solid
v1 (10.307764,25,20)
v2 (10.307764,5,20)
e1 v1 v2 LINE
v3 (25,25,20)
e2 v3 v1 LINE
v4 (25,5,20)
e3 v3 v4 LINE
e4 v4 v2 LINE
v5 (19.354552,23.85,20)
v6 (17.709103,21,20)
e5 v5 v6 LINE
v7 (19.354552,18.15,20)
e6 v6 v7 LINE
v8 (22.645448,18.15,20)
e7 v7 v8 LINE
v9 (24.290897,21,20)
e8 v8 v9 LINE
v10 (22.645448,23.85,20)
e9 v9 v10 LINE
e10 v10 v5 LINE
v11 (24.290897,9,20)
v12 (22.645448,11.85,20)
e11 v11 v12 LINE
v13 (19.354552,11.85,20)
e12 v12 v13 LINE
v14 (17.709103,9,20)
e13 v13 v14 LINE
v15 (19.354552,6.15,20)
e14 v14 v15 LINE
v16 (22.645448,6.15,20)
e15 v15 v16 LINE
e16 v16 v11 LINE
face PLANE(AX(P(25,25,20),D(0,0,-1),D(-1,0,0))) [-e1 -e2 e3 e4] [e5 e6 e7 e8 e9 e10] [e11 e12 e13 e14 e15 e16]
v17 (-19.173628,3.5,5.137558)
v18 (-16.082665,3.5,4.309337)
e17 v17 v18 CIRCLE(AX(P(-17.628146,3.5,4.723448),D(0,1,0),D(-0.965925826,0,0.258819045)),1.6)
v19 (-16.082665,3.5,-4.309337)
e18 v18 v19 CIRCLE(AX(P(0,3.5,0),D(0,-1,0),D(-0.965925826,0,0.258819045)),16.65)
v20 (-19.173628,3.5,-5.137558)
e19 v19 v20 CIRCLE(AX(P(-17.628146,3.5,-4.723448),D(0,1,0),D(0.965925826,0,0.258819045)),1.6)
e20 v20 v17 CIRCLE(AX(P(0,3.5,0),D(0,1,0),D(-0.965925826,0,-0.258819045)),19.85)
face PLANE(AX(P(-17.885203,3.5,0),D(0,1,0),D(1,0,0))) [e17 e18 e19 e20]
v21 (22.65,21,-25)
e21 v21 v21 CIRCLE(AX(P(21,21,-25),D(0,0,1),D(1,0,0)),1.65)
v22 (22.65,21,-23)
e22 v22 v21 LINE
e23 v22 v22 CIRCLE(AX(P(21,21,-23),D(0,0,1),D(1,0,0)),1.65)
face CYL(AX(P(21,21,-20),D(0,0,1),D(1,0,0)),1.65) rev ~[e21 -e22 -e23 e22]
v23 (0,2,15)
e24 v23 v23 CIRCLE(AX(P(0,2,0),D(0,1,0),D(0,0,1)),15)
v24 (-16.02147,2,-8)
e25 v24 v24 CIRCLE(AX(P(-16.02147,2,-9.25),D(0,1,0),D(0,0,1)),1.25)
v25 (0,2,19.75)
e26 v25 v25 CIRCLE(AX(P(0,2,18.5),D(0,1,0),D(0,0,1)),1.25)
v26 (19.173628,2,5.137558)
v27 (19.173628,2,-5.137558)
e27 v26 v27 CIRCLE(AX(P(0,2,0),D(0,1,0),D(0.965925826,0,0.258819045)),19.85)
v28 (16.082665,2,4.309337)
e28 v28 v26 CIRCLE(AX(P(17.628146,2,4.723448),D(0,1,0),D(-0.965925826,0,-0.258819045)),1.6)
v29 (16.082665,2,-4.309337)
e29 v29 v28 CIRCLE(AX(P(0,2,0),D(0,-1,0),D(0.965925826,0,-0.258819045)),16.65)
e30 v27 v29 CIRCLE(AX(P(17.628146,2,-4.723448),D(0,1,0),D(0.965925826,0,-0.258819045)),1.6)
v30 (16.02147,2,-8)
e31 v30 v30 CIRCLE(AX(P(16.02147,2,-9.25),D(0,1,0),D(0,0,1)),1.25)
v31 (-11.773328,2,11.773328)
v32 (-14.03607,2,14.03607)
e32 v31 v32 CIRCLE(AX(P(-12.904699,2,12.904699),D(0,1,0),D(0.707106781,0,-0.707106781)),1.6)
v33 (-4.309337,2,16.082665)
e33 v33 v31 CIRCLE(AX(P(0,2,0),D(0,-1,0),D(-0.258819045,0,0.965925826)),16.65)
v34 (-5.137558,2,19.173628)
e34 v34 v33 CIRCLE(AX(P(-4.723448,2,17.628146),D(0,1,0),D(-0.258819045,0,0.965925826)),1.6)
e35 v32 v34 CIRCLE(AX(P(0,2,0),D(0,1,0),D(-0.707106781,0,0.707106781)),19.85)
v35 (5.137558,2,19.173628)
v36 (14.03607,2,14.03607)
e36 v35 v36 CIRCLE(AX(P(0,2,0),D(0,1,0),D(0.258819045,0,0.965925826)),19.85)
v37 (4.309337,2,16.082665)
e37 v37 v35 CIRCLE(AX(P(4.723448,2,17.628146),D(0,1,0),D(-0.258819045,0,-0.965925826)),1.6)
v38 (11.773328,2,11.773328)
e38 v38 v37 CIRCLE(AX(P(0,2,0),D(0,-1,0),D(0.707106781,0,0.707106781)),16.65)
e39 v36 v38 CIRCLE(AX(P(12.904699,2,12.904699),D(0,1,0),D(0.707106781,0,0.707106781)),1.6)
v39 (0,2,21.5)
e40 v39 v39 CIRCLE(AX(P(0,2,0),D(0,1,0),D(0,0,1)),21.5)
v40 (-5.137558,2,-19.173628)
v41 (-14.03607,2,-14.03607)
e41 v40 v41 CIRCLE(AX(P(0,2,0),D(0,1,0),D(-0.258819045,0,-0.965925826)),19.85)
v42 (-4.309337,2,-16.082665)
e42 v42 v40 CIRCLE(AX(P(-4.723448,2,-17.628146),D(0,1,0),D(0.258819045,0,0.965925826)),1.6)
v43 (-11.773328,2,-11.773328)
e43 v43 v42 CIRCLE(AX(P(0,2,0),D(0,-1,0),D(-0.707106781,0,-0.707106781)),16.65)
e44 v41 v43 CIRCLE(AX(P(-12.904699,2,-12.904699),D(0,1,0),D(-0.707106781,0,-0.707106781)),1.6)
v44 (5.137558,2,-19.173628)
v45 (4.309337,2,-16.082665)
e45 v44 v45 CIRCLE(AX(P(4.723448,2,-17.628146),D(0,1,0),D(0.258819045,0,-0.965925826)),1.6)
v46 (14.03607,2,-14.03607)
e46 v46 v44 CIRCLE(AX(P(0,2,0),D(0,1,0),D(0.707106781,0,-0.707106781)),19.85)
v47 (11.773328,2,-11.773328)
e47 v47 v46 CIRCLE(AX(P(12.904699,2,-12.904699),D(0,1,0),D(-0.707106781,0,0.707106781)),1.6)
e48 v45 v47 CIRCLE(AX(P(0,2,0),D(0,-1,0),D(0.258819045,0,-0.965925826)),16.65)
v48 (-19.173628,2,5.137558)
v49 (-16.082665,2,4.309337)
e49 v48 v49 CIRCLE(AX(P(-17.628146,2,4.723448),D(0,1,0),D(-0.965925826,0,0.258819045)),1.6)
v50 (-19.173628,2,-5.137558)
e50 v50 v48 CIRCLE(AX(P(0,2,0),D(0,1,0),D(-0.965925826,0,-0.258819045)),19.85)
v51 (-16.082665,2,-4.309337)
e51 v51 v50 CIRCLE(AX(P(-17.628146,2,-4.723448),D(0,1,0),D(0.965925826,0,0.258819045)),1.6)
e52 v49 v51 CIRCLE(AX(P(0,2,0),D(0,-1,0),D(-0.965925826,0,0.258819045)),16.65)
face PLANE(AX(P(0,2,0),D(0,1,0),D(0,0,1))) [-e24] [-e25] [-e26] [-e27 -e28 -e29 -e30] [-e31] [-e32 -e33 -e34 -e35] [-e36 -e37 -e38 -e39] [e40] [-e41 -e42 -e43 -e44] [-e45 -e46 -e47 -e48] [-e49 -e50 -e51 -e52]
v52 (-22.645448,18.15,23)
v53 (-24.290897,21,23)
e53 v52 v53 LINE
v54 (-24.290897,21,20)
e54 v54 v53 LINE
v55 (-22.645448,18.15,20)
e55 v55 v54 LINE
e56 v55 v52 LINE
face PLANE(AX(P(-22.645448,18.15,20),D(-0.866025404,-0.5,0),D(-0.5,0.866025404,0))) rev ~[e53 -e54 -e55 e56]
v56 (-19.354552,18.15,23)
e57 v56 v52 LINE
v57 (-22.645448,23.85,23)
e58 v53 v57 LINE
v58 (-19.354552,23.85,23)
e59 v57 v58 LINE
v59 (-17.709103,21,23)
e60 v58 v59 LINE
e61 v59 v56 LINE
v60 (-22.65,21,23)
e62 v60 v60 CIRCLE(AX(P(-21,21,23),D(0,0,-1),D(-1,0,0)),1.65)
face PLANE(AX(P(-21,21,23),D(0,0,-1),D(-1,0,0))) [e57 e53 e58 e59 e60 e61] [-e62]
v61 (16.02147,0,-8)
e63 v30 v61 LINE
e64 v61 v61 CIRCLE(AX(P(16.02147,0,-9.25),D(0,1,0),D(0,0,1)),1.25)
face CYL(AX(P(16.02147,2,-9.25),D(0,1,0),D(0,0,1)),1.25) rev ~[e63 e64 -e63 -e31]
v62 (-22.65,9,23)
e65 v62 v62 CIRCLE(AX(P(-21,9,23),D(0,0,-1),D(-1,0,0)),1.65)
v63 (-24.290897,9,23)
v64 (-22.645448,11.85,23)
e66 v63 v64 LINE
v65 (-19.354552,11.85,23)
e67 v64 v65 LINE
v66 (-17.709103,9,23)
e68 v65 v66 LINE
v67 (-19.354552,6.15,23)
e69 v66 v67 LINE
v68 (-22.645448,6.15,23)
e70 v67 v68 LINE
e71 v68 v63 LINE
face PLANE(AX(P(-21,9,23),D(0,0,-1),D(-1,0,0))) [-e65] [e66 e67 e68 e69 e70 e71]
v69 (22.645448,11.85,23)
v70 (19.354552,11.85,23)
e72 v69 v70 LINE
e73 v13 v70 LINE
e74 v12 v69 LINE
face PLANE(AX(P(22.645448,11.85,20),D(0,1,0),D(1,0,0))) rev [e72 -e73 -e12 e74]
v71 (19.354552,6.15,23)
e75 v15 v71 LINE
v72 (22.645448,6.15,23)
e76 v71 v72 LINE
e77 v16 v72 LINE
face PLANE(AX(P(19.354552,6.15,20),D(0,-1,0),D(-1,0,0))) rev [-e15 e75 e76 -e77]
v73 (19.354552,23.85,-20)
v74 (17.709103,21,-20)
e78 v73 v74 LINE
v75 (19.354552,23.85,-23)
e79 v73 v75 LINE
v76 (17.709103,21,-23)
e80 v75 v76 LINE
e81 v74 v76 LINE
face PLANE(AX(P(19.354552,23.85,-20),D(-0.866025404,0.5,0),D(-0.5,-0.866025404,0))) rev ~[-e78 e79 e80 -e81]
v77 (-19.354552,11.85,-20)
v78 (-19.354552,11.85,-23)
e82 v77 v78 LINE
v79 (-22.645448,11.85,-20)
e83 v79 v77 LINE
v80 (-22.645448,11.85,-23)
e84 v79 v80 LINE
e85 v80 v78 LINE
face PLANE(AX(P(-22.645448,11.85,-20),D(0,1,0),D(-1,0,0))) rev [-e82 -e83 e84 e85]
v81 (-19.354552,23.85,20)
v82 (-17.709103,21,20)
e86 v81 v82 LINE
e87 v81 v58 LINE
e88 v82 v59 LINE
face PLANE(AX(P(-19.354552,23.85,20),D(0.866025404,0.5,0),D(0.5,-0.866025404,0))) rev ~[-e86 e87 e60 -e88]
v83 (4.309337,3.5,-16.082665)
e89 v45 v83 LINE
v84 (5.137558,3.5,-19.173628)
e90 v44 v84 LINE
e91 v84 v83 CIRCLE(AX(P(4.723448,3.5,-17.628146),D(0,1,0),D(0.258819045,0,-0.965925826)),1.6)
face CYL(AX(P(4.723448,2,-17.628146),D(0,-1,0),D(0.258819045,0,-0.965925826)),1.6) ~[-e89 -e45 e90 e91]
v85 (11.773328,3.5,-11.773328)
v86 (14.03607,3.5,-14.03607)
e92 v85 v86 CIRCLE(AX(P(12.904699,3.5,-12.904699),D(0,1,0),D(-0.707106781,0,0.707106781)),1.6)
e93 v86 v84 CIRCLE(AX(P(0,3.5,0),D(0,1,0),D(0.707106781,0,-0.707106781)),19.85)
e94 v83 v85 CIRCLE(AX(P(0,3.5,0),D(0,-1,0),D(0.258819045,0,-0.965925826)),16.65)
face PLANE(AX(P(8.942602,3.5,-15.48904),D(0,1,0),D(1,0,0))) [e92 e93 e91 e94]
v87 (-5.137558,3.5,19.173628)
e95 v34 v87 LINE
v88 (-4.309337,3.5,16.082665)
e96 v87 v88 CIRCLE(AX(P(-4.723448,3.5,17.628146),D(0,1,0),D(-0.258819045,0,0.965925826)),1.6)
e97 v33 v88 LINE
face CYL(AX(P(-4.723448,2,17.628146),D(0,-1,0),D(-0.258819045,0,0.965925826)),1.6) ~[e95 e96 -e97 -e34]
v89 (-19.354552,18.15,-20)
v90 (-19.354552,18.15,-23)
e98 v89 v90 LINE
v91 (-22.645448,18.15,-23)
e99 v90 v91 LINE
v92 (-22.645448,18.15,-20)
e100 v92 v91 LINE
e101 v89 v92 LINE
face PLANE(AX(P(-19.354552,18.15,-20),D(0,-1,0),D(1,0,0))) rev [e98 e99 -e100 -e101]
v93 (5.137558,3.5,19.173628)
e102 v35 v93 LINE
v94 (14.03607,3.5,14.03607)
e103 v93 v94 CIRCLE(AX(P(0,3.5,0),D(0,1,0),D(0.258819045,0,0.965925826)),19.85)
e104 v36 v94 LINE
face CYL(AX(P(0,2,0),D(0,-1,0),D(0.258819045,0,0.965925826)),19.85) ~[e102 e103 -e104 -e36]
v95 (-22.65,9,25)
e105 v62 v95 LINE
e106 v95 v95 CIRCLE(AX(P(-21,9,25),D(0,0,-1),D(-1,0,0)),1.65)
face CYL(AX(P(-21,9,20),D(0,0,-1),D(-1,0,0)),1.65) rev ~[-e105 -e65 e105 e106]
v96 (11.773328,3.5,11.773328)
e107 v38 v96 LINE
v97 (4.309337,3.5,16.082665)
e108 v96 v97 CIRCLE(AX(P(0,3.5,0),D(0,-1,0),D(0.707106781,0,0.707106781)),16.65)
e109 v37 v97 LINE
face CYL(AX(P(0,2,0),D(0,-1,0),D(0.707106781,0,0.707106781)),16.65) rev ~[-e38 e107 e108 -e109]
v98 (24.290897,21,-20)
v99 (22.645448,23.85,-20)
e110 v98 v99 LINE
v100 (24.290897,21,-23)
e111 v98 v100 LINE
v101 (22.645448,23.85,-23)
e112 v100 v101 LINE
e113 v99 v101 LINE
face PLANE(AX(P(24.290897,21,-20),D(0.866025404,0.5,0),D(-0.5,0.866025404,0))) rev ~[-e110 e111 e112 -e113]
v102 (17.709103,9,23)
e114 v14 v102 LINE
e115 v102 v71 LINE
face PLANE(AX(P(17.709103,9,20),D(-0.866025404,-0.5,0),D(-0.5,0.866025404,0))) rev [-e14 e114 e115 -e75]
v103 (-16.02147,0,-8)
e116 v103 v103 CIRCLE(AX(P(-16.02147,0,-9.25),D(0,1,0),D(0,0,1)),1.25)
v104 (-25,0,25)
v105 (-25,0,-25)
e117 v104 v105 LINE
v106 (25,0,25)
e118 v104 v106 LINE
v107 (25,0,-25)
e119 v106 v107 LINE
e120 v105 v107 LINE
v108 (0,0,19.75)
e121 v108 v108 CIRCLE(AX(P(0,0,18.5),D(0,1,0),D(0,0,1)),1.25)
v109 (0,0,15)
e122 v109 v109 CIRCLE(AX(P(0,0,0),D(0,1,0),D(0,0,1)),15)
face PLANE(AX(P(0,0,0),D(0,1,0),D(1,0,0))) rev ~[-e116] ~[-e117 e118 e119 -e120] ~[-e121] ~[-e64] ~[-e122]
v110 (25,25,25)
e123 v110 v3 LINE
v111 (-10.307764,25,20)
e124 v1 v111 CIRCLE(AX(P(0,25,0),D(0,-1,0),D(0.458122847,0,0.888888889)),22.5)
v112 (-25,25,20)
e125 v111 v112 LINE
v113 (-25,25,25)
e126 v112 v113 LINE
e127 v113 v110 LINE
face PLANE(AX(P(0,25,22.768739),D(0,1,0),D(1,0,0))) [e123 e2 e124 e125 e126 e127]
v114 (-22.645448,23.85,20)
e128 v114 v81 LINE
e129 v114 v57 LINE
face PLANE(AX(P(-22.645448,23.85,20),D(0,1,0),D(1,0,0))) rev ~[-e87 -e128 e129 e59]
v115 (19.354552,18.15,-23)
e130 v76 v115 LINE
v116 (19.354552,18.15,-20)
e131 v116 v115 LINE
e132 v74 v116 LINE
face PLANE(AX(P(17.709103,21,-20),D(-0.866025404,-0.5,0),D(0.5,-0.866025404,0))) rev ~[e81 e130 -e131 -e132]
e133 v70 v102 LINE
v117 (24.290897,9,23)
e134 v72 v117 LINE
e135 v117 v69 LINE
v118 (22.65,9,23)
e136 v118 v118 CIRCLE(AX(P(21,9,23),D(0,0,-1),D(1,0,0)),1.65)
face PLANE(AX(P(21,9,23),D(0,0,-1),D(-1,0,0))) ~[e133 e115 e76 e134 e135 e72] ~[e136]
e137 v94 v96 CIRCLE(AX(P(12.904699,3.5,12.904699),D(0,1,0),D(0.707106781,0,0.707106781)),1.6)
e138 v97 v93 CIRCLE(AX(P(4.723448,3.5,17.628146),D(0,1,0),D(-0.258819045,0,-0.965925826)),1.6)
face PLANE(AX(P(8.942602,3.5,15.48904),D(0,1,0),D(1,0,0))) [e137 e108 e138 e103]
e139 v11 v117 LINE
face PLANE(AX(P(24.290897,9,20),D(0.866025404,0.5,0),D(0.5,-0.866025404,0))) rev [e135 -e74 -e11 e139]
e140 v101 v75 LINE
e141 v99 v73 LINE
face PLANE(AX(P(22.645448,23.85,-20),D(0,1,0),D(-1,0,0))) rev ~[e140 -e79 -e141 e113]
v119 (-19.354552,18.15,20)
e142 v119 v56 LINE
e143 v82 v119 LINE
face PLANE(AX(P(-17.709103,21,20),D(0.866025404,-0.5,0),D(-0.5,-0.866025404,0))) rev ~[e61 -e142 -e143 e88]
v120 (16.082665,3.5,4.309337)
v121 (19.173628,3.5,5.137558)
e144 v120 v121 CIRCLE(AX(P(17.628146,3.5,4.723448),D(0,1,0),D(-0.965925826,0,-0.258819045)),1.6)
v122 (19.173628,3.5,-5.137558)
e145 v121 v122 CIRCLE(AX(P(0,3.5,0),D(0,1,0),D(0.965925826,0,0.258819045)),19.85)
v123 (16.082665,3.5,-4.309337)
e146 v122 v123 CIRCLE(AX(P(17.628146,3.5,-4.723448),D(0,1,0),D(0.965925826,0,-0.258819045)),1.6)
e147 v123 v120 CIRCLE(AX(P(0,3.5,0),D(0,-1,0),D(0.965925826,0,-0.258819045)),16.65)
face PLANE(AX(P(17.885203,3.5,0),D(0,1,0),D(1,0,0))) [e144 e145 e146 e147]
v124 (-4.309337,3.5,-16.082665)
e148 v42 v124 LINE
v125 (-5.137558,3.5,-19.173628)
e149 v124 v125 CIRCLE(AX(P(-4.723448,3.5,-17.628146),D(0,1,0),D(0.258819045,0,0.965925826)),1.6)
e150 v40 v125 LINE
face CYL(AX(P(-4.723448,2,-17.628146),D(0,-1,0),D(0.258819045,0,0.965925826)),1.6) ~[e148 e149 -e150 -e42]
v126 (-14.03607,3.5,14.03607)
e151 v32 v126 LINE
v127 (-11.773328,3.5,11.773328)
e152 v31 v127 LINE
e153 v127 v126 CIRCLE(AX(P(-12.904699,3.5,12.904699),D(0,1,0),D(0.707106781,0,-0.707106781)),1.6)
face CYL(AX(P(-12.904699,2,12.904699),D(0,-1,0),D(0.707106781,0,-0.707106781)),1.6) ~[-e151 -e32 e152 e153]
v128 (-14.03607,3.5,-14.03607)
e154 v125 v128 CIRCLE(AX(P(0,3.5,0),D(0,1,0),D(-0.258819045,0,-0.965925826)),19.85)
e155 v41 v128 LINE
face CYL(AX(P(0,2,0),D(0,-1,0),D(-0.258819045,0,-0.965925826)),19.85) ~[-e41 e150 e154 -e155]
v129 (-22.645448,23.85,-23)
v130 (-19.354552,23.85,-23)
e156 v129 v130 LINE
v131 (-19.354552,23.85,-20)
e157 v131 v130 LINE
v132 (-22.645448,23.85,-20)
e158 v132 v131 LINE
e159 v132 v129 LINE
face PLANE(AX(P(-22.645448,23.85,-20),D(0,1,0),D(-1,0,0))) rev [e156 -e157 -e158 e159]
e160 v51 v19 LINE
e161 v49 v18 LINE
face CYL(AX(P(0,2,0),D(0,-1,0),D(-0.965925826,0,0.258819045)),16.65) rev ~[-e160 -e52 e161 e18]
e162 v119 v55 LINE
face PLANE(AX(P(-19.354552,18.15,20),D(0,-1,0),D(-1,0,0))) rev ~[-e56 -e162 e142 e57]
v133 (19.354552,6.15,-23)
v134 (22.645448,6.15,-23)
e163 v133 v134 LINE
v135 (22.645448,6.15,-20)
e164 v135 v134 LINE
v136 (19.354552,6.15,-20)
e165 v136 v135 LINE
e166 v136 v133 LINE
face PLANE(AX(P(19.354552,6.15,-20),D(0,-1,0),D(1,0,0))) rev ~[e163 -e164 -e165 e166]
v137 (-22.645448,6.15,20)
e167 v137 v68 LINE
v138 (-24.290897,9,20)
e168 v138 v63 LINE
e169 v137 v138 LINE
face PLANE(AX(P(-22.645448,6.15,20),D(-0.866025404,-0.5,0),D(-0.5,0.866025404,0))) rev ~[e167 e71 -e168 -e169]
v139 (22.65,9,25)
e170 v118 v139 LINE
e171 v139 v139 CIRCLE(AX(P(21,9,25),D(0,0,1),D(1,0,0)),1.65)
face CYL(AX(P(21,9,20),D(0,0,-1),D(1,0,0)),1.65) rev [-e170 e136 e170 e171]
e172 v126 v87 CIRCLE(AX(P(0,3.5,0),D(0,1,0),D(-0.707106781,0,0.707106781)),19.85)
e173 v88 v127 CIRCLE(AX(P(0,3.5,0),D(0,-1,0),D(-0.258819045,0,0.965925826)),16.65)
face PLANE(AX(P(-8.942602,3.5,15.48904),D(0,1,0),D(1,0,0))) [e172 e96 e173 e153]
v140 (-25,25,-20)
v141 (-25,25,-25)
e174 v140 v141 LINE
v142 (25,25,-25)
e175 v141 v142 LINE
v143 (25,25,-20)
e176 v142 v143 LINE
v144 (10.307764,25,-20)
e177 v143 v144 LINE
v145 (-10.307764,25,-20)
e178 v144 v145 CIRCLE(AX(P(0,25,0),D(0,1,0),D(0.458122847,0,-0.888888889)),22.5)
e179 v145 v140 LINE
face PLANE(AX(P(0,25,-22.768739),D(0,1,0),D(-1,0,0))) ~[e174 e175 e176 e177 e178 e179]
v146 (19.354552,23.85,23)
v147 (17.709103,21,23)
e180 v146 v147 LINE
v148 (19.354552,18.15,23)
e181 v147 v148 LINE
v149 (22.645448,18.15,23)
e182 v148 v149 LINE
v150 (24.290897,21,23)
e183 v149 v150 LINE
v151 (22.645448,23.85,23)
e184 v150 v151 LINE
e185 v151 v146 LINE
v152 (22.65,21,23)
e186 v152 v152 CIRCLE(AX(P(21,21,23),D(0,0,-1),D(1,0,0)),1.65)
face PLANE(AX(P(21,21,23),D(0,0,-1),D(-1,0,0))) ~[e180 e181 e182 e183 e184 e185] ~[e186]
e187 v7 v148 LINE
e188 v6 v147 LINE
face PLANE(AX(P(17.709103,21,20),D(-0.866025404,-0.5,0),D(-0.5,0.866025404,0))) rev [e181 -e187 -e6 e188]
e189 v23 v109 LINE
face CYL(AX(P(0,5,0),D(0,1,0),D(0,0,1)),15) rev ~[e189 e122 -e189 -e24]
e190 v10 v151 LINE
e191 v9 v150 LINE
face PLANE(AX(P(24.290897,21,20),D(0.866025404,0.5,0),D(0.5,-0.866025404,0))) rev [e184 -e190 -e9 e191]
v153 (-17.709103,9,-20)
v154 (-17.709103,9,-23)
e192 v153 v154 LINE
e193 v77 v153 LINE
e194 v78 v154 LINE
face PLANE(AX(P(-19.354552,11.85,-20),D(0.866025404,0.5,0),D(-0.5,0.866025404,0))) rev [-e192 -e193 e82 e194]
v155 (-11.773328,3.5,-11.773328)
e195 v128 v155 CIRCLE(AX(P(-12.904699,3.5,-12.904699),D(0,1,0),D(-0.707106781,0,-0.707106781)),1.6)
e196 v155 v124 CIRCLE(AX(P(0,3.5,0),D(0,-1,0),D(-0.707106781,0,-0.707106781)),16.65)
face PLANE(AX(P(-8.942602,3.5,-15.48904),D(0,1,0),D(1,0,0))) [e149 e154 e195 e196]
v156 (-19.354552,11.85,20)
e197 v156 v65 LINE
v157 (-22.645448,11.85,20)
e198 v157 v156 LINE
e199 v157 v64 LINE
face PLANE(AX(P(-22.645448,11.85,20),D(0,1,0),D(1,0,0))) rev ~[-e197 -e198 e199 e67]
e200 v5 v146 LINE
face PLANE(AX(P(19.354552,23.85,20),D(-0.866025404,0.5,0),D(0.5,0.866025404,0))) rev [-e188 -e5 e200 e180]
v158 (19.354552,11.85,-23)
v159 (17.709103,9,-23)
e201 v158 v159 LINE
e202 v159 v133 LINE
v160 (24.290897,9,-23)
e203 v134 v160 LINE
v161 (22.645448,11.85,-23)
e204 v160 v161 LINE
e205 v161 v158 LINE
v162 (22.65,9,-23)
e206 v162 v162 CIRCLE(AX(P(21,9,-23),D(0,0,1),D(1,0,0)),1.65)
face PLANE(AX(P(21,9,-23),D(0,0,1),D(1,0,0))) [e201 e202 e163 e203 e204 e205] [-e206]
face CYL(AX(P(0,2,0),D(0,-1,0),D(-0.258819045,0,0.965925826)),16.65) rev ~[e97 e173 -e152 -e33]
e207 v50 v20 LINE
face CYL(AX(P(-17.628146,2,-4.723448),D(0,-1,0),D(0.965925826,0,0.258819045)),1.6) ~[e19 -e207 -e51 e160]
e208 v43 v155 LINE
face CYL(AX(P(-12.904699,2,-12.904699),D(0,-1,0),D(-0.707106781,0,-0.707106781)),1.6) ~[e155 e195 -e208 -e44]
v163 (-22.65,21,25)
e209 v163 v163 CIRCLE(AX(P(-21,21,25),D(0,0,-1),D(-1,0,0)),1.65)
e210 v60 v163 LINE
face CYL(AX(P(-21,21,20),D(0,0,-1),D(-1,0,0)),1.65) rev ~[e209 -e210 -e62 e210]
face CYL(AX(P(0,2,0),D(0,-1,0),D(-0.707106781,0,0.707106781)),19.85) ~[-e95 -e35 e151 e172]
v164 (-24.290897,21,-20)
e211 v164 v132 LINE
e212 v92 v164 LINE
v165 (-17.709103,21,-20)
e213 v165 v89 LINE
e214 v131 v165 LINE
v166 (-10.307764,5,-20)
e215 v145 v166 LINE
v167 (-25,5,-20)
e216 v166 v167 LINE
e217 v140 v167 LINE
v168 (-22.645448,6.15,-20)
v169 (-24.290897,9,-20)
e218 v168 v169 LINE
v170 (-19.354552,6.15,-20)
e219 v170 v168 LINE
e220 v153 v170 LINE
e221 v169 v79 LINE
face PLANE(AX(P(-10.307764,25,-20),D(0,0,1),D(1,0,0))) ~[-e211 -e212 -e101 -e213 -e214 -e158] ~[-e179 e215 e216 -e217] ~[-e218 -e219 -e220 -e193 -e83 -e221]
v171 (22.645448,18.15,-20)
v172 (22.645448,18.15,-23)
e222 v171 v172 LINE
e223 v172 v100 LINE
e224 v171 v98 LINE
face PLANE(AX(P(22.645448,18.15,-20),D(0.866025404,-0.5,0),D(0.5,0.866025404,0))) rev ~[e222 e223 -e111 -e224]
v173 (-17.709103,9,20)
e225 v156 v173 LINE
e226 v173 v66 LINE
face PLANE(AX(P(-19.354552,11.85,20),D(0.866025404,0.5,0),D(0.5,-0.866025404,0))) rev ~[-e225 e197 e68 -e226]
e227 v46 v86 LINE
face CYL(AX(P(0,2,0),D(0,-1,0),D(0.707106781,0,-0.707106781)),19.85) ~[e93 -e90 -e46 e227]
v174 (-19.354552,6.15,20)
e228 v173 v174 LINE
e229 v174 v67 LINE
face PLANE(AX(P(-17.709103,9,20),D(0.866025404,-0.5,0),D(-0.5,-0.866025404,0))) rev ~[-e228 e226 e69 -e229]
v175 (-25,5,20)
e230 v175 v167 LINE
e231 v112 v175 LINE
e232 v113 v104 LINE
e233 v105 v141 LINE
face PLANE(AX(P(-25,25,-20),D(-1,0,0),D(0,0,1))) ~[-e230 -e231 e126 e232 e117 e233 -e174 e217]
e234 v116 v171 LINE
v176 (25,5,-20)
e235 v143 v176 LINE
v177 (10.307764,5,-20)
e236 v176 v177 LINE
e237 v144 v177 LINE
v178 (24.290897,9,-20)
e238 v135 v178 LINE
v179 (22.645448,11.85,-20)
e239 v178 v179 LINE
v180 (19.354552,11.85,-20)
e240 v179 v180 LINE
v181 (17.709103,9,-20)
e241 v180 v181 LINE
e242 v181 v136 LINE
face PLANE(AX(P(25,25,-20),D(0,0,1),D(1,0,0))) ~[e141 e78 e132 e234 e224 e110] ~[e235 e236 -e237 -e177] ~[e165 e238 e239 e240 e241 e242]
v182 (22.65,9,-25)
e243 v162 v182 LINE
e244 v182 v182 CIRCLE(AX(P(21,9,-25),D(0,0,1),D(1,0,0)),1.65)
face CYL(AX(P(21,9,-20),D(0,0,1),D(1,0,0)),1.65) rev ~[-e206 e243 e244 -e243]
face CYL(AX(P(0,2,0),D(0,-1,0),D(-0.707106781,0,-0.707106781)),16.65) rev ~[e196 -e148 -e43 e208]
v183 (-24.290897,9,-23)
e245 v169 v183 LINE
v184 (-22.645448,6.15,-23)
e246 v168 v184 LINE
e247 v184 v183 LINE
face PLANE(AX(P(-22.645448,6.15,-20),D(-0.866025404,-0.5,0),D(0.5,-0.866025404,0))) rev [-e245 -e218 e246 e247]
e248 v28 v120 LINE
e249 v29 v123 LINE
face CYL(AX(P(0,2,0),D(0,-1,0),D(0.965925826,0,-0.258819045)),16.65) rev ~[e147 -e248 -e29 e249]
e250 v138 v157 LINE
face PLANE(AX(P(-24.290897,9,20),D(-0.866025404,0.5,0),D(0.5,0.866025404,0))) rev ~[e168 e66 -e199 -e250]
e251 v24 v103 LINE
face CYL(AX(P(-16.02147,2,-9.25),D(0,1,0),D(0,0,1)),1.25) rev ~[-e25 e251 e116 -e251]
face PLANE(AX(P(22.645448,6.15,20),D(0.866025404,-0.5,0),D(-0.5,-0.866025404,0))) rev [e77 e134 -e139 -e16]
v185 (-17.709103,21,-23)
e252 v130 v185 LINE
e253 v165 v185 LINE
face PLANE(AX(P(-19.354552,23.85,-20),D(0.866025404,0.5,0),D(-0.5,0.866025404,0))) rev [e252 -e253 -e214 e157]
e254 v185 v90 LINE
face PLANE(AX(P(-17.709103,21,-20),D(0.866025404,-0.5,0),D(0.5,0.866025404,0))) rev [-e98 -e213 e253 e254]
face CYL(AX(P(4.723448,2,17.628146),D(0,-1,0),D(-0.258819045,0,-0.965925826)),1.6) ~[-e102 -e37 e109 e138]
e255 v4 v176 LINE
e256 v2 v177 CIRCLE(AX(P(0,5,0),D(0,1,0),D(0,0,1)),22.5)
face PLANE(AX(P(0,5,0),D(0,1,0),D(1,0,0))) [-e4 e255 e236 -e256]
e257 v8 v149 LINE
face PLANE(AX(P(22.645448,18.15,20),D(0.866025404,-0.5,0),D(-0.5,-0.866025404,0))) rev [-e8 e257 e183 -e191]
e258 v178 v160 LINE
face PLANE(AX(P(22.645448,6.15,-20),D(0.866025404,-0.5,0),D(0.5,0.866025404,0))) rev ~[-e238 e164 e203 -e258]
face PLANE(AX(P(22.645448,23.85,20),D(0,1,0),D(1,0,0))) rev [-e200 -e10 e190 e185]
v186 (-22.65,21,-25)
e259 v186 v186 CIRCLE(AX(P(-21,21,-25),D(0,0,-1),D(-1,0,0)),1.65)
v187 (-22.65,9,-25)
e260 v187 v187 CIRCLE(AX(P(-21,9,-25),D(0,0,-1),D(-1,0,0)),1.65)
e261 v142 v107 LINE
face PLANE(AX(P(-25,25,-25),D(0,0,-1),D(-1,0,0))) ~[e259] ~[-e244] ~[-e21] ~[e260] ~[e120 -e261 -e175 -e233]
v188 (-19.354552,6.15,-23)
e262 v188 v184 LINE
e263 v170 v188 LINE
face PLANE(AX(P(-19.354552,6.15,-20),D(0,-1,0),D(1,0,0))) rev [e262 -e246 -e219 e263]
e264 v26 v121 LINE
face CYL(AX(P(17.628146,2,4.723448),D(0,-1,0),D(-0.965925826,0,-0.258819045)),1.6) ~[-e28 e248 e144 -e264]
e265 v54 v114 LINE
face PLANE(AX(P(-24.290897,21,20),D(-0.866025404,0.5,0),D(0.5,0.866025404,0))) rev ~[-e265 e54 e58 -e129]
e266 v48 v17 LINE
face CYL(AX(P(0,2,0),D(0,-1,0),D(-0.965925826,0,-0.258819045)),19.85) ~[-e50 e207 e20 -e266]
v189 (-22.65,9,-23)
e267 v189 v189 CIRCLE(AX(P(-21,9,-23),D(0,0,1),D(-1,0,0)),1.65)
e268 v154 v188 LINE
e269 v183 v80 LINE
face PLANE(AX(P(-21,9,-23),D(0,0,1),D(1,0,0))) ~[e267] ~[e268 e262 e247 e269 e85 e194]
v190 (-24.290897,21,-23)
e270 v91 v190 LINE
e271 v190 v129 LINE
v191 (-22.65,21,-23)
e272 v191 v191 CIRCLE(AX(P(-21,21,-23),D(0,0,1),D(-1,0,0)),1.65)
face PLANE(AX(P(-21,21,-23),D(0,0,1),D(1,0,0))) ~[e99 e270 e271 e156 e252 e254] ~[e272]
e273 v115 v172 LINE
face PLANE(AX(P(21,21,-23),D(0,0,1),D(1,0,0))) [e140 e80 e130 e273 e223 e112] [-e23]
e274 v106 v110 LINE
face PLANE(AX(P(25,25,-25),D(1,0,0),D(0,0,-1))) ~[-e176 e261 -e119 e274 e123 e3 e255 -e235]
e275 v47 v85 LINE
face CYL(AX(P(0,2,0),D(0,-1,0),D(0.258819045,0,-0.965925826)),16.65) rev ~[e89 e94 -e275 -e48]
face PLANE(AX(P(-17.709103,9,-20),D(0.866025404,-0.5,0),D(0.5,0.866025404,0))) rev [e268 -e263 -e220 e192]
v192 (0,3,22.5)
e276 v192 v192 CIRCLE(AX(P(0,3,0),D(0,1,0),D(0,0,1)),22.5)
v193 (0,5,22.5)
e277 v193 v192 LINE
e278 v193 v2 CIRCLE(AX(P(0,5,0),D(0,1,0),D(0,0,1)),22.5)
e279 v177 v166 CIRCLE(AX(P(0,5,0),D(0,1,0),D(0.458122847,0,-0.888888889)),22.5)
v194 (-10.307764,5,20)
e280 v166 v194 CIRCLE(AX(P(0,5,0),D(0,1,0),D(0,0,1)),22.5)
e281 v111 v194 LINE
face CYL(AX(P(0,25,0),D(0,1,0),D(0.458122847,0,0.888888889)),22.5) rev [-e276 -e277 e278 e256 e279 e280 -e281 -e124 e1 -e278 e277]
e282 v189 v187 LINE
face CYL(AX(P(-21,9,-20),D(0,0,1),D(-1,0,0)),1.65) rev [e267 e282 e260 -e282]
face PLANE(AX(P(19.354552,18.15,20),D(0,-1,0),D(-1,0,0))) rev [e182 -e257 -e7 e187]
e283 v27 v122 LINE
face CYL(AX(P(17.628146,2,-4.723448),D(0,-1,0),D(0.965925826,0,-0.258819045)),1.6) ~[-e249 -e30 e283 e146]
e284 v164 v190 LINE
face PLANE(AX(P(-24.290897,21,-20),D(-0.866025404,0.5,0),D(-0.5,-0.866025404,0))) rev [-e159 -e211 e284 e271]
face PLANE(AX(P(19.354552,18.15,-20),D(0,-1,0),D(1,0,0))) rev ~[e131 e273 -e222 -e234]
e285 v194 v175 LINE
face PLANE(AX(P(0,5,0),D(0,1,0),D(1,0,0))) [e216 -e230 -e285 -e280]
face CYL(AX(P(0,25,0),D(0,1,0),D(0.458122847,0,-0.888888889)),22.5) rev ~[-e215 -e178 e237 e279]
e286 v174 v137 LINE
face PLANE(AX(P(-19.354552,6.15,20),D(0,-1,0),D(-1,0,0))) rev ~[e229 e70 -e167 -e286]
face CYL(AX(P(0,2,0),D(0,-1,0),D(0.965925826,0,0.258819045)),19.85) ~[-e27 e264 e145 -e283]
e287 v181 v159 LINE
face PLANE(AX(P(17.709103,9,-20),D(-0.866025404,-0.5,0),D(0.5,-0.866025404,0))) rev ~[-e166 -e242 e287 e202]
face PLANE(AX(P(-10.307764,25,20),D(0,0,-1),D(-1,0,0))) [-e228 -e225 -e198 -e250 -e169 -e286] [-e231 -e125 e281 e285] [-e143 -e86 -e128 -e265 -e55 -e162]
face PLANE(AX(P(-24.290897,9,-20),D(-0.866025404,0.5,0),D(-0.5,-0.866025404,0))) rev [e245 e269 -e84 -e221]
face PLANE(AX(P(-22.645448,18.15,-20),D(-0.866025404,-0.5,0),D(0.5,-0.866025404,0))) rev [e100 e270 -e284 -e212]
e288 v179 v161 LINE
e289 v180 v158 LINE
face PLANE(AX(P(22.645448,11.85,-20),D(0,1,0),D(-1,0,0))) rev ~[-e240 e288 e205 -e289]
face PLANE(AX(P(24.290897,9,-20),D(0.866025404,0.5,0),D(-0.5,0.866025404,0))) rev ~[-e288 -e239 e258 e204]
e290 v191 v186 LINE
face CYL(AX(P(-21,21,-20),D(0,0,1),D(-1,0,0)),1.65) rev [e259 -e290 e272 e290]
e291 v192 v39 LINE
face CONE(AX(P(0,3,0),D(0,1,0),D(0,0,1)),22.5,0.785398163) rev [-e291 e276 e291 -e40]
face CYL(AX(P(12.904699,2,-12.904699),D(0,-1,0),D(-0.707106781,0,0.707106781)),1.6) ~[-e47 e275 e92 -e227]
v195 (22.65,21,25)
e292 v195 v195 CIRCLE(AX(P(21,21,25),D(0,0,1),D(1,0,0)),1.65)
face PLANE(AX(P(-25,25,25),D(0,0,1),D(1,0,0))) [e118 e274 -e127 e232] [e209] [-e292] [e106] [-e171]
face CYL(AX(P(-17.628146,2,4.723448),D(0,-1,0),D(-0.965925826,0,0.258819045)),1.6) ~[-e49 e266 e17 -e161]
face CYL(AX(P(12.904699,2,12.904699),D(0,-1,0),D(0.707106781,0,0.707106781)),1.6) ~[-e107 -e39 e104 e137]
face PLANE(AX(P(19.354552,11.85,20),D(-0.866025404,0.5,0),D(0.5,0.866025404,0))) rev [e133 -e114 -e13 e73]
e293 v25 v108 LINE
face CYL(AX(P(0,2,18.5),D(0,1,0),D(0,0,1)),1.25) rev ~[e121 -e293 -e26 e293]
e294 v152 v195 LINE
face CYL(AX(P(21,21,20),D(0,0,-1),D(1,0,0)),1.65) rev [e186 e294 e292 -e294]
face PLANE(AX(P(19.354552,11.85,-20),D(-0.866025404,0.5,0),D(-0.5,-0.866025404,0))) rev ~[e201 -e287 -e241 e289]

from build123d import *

# Parameters (mm, degrees)
SKETCH_1_W               = 50
SKETCH_1_H               = 50
EXTRUDE_1_DEPTH          = 5
CUT_EXTRUDE_1_REACH      = 37.707
SKETCH_2_R               = 15
SKETCH_3_R               = 22.5
CUT_EXTRUDE_2_DEPTH      = 3
CUT_EXTRUDE_3_REACH      = 37.482
SKETCH_4_R               = 1.25
CHAMFER_1_SIZE           = 1
EXTRUDE_2_DEPTH          = 1.5
EXTRUDE_START            = 20
EXTRUDE_3_DEPTH          = 20
CUT_EXTRUDE_4_REACH      = 59.228
SKETCH_9_R               = 1.65
CUT_EXTRUDE_5_DEPTH      = 3
MIRROR_1_COPY_1_REACH    = 59.228
MIRROR_1_COPY_1_SKETCH_R = 1.65
MIRROR_1_COPY_2_DEPTH    = 3


with BuildPart() as part:
    # 草图1 → 凸台-拉伸1 (new body)
    with BuildSketch(Plane(origin=(0, 0, 0), x_dir=(1, 0, 0), z_dir=(0, 1, 0))):
        Rectangle(SKETCH_1_W, SKETCH_1_H)
    extrude(amount=EXTRUDE_1_DEPTH)

    # 草图2 → 切除-拉伸1 (cut, up to next)
    with BuildSketch(Plane(origin=(0, 5, 0), x_dir=(1, 0, 0), z_dir=(0, 1, 0)), mode=Mode.PRIVATE) as cut_extrude_1_sk1:
        with Locations(Location((0, 0, 0), (0, 0, 270))):
            Circle(SKETCH_2_R)
    cut_extrude_1_tool1 = extrude(cut_extrude_1_sk1.sketch, amount=-CUT_EXTRUDE_1_REACH, mode=Mode.PRIVATE) & part.part
    add(cut_extrude_1_tool1.solids().sort_by_distance((0, 5, 0))[0], mode=Mode.SUBTRACT)

    # 草图3 → 切除-拉伸2 (cut)
    with BuildSketch(Plane(origin=(0, 5, 0), x_dir=(1, 0, 0), z_dir=(0, 1, 0))):
        with Locations(Location((0, 0, 0), (0, 0, 270))):
            Circle(SKETCH_3_R)
    extrude(amount=-CUT_EXTRUDE_2_DEPTH, mode=Mode.SUBTRACT)

    # 草图4 → 切除-拉伸3 (cut, up to next)
    with BuildSketch(Plane(origin=(0, 2, 0), x_dir=(1, 0, 0), z_dir=(0, 1, 0)), mode=Mode.PRIVATE) as cut_extrude_3_sk1:
        with Locations(Location((0, -18.5, 0), (0, 0, 270))):
            Circle(SKETCH_4_R)
    cut_extrude_3_tool1 = extrude(cut_extrude_3_sk1.sketch, amount=-CUT_EXTRUDE_3_REACH, mode=Mode.PRIVATE) & part.part
    # 草图4 → 切除-拉伸3 (cut, up to next)
    with BuildSketch(Plane(origin=(0, 2, 0), x_dir=(1, 0, 0), z_dir=(0, 1, 0)), mode=Mode.PRIVATE) as cut_extrude_3_sk2:
        with Locations(Location((-16.02146997, 9.25, 0), (0, 0, 270))):
            Circle(SKETCH_4_R)
    cut_extrude_3_tool2 = extrude(cut_extrude_3_sk2.sketch, amount=-CUT_EXTRUDE_3_REACH, mode=Mode.PRIVATE) & part.part
    # 草图4 → 切除-拉伸3 (cut, up to next)
    with BuildSketch(Plane(origin=(0, 2, 0), x_dir=(1, 0, 0), z_dir=(0, 1, 0)), mode=Mode.PRIVATE) as cut_extrude_3_sk3:
        with Locations(Location((16.02146997, 9.25, 0), (0, 0, 270))):
            Circle(SKETCH_4_R)
    cut_extrude_3_tool3 = extrude(cut_extrude_3_sk3.sketch, amount=-CUT_EXTRUDE_3_REACH, mode=Mode.PRIVATE) & part.part
    add(cut_extrude_3_tool1.solids().sort_by_distance((0, 2, 18.5))[0], mode=Mode.SUBTRACT)
    add(cut_extrude_3_tool2.solids().sort_by_distance((-16.02147, 2, -9.25))[0], mode=Mode.SUBTRACT)
    add(cut_extrude_3_tool3.solids().sort_by_distance((16.02147, 2, -9.25))[0], mode=Mode.SUBTRACT)

    # 倒角1
    chamfer_1_edges = [part.edges().sort_by_distance(p)[0] for p in [
        (0, 2, -22.5),
    ]]
    chamfer(chamfer_1_edges, length=CHAMFER_1_SIZE)

    # 草图7 → 凸台-拉伸2 (add)
    with BuildSketch(Plane(origin=(0, 2, 0), x_dir=(1, 0, 0), z_dir=(0, 1, 0))):
        with BuildLine():
            ThreePointArc((-5.137558045, 19.173627652), (-9.925, 17.190604265), (-14.036069607, 14.036069607))
            ThreePointArc((-14.036069607, 14.036069607), (-14.036069607, 11.773327907), (-11.773327907, 11.773327907))
            ThreePointArc((-11.773327907, 11.773327907), (-8.325, 14.419322973), (-4.309337101, 16.082665008))
            ThreePointArc((-4.309337101, 16.082665008), (-3.177966251, 18.042256802), (-5.137558045, 19.173627652))
        make_face()
        with BuildLine():
            ThreePointArc((14.036069607, 14.036069607), (9.925, 17.190604265), (5.137558045, 19.173627652))
            ThreePointArc((5.137558045, 19.173627652), (3.177966251, 18.042256802), (4.309337101, 16.082665008))
            ThreePointArc((4.309337101, 16.082665008), (8.325, 14.419322973), (11.773327907, 11.773327907))
            ThreePointArc((11.773327907, 11.773327907), (14.036069607, 11.773327907), (14.036069607, 14.036069607))
        make_face()
        with BuildLine():
            ThreePointArc((19.173627652, -5.137558045), (19.85, 0), (19.173627652, 5.137558045))
            ThreePointArc((19.173627652, 5.137558045), (17.214035858, 6.268928895), (16.082665008, 4.309337101))
            ThreePointArc((16.082665008, 4.309337101), (16.65, 0), (16.082665008, -4.309337101))
            ThreePointArc((16.082665008, -4.309337101), (17.214035858, -6.268928895), (19.173627652, -5.137558045))
        make_face()
        with BuildLine():
            ThreePointArc((5.137558045, -19.173627652), (9.925, -17.190604265), (14.036069607, -14.036069607))
            ThreePointArc((14.036069607, -14.036069607), (14.036069607, -11.773327907), (11.773327907, -11.773327907))
            ThreePointArc((11.773327907, -11.773327907), (8.325, -14.419322973), (4.309337101, -16.082665008))
            ThreePointArc((4.309337101, -16.082665008), (3.177966251, -18.042256802), (5.137558045, -19.173627652))
        make_face()
        with BuildLine():
            ThreePointArc((-14.036069607, -14.036069607), (-9.925, -17.190604265), (-5.137558045, -19.173627652))
            ThreePointArc((-5.137558045, -19.173627652), (-3.177966251, -18.042256802), (-4.309337101, -16.082665008))
            ThreePointArc((-4.309337101, -16.082665008), (-8.325, -14.419322973), (-11.773327907, -11.773327907))
            ThreePointArc((-11.773327907, -11.773327907), (-14.036069607, -11.773327907), (-14.036069607, -14.036069607))
        make_face()
        with BuildLine():
            ThreePointArc((-19.173627652, 5.137558045), (-19.85, 0), (-19.173627652, -5.137558045))
            ThreePointArc((-19.173627652, -5.137558045), (-17.214035858, -6.268928895), (-16.082665008, -4.309337101))
            ThreePointArc((-16.082665008, -4.309337101), (-16.65, 0), (-16.082665008, 4.309337101))
            ThreePointArc((-16.082665008, 4.309337101), (-17.214035858, 6.268928895), (-19.173627652, 5.137558045))
        make_face()
    extrude(amount=EXTRUDE_2_DEPTH)

    # 草图8 → 凸台-拉伸3 (add)
    with BuildSketch(Plane(origin=(0, 5, 0), x_dir=(1, 0, 0), z_dir=(0, 1, 0)).offset(EXTRUDE_START)):
        with BuildLine():
            Line((-25, -25), (25, -25))
            Line((25, -25), (25, -20))
            Line((25, -20), (10.307764064, -20))
            ThreePointArc((10.307764064, -20), (0, -22.5), (-10.307764064, -20))
            Line((-10.307764064, -20), (-25, -20))
            Line((-25, -20), (-25, -25))
        make_face()
    extrude_3 = extrude(amount=-EXTRUDE_3_DEPTH)

    # 草图9 → 切除-拉伸4 (cut, up to next)
    with BuildSketch(Plane(origin=(0, 0, 20), x_dir=(-1, 0, 0), z_dir=(0, 0, -1)), mode=Mode.PRIVATE) as cut_extrude_4_sk1:
        with Locations((21, 21)):
            Circle(SKETCH_9_R)
    cut_extrude_4_tool1 = extrude(cut_extrude_4_sk1.sketch, amount=-CUT_EXTRUDE_4_REACH, mode=Mode.PRIVATE) & part.part
    # 草图9 → 切除-拉伸4 (cut, up to next)
    with BuildSketch(Plane(origin=(0, 0, 20), x_dir=(-1, 0, 0), z_dir=(0, 0, -1)), mode=Mode.PRIVATE) as cut_extrude_4_sk2:
        with Locations((21, 9)):
            Circle(SKETCH_9_R)
    cut_extrude_4_tool2 = extrude(cut_extrude_4_sk2.sketch, amount=-CUT_EXTRUDE_4_REACH, mode=Mode.PRIVATE) & part.part
    cut_extrude_4_1 = cut_extrude_4_tool1.solids().sort_by_distance((-21, 21, 20))[0]
    add(cut_extrude_4_1, mode=Mode.SUBTRACT)
    cut_extrude_4_2 = cut_extrude_4_tool2.solids().sort_by_distance((-21, 9, 20))[0]
    add(cut_extrude_4_2, mode=Mode.SUBTRACT)
    cut_extrude_4 = cut_extrude_4_1 + cut_extrude_4_2  # 切除-拉伸4 as one shape, for the pattern or mirror that repeats it

    # 草图10 → 切除-拉伸5 (cut)
    with BuildSketch(Plane(origin=(0, 0, 20), x_dir=(-1, 0, 0), z_dir=(0, 0, -1))):
        Polygon((24.290896534, 21), (22.645448267, 23.85), (19.354551733, 23.85), (17.709103466, 21), (19.354551733, 18.15), (22.645448267, 18.15), align=None)
        Polygon((24.290896534, 9), (22.645448267, 11.85), (19.354551733, 11.85), (17.709103466, 9), (19.354551733, 6.15), (22.645448267, 6.15), align=None)
    cut_extrude_5 = extrude(amount=-CUT_EXTRUDE_5_DEPTH, mode=Mode.SUBTRACT)

    # 镜向2: 切除-拉伸4, 切除-拉伸5 across plane
    add(cut_extrude_4.mirror(Plane(origin=(0, 0, 0), x_dir=(0, 0, 1), z_dir=(1, 0, 0))), mode=Mode.SUBTRACT)
    add(cut_extrude_5.mirror(Plane(origin=(0, 0, 0), x_dir=(0, 0, 1), z_dir=(1, 0, 0))), mode=Mode.SUBTRACT)

    # 镜向1: 凸台-拉伸3, 切除-拉伸4, 切除-拉伸5 across plane
    add(extrude_3.mirror(Plane.XY))
    add(cut_extrude_4.mirror(Plane.XY), mode=Mode.SUBTRACT)
    add(cut_extrude_5.mirror(Plane.XY), mode=Mode.SUBTRACT)

    # 镜向1 copy 1 sketch → 镜向1 copy 1 (cut, up to next)
    with BuildSketch(Plane.XY.offset(-20), mode=Mode.PRIVATE) as mirror_1_copy_1_sk1:
        with Locations((21, 21)):
            Circle(MIRROR_1_COPY_1_SKETCH_R)
    mirror_1_copy_1_tool1 = extrude(mirror_1_copy_1_sk1.sketch, amount=-MIRROR_1_COPY_1_REACH, mode=Mode.PRIVATE) & part.part
    # 镜向1 copy 1 sketch → 镜向1 copy 1 (cut, up to next)
    with BuildSketch(Plane.XY.offset(-20), mode=Mode.PRIVATE) as mirror_1_copy_1_sk2:
        with Locations((21, 9)):
            Circle(MIRROR_1_COPY_1_SKETCH_R)
    mirror_1_copy_1_tool2 = extrude(mirror_1_copy_1_sk2.sketch, amount=-MIRROR_1_COPY_1_REACH, mode=Mode.PRIVATE) & part.part
    add(mirror_1_copy_1_tool1.solids().sort_by_distance((21, 21, -20))[0], mode=Mode.SUBTRACT)
    add(mirror_1_copy_1_tool2.solids().sort_by_distance((21, 9, -20))[0], mode=Mode.SUBTRACT)

    # 镜向1 copy 2 sketch → 镜向1 copy 2 (cut)
    with BuildSketch(Plane.XY.offset(-20)):
        Polygon((24.290896534, 21), (22.645448267, 23.85), (19.354551733, 23.85), (17.709103466, 21), (19.354551733, 18.15), (22.645448267, 18.15), align=None)
        Polygon((24.290896534, 9), (22.645448267, 11.85), (19.354551733, 11.85), (17.709103466, 9), (19.354551733, 6.15), (22.645448267, 6.15), align=None)
    extrude(amount=-MIRROR_1_COPY_2_DEPTH, mode=Mode.SUBTRACT)


solid = part.part
